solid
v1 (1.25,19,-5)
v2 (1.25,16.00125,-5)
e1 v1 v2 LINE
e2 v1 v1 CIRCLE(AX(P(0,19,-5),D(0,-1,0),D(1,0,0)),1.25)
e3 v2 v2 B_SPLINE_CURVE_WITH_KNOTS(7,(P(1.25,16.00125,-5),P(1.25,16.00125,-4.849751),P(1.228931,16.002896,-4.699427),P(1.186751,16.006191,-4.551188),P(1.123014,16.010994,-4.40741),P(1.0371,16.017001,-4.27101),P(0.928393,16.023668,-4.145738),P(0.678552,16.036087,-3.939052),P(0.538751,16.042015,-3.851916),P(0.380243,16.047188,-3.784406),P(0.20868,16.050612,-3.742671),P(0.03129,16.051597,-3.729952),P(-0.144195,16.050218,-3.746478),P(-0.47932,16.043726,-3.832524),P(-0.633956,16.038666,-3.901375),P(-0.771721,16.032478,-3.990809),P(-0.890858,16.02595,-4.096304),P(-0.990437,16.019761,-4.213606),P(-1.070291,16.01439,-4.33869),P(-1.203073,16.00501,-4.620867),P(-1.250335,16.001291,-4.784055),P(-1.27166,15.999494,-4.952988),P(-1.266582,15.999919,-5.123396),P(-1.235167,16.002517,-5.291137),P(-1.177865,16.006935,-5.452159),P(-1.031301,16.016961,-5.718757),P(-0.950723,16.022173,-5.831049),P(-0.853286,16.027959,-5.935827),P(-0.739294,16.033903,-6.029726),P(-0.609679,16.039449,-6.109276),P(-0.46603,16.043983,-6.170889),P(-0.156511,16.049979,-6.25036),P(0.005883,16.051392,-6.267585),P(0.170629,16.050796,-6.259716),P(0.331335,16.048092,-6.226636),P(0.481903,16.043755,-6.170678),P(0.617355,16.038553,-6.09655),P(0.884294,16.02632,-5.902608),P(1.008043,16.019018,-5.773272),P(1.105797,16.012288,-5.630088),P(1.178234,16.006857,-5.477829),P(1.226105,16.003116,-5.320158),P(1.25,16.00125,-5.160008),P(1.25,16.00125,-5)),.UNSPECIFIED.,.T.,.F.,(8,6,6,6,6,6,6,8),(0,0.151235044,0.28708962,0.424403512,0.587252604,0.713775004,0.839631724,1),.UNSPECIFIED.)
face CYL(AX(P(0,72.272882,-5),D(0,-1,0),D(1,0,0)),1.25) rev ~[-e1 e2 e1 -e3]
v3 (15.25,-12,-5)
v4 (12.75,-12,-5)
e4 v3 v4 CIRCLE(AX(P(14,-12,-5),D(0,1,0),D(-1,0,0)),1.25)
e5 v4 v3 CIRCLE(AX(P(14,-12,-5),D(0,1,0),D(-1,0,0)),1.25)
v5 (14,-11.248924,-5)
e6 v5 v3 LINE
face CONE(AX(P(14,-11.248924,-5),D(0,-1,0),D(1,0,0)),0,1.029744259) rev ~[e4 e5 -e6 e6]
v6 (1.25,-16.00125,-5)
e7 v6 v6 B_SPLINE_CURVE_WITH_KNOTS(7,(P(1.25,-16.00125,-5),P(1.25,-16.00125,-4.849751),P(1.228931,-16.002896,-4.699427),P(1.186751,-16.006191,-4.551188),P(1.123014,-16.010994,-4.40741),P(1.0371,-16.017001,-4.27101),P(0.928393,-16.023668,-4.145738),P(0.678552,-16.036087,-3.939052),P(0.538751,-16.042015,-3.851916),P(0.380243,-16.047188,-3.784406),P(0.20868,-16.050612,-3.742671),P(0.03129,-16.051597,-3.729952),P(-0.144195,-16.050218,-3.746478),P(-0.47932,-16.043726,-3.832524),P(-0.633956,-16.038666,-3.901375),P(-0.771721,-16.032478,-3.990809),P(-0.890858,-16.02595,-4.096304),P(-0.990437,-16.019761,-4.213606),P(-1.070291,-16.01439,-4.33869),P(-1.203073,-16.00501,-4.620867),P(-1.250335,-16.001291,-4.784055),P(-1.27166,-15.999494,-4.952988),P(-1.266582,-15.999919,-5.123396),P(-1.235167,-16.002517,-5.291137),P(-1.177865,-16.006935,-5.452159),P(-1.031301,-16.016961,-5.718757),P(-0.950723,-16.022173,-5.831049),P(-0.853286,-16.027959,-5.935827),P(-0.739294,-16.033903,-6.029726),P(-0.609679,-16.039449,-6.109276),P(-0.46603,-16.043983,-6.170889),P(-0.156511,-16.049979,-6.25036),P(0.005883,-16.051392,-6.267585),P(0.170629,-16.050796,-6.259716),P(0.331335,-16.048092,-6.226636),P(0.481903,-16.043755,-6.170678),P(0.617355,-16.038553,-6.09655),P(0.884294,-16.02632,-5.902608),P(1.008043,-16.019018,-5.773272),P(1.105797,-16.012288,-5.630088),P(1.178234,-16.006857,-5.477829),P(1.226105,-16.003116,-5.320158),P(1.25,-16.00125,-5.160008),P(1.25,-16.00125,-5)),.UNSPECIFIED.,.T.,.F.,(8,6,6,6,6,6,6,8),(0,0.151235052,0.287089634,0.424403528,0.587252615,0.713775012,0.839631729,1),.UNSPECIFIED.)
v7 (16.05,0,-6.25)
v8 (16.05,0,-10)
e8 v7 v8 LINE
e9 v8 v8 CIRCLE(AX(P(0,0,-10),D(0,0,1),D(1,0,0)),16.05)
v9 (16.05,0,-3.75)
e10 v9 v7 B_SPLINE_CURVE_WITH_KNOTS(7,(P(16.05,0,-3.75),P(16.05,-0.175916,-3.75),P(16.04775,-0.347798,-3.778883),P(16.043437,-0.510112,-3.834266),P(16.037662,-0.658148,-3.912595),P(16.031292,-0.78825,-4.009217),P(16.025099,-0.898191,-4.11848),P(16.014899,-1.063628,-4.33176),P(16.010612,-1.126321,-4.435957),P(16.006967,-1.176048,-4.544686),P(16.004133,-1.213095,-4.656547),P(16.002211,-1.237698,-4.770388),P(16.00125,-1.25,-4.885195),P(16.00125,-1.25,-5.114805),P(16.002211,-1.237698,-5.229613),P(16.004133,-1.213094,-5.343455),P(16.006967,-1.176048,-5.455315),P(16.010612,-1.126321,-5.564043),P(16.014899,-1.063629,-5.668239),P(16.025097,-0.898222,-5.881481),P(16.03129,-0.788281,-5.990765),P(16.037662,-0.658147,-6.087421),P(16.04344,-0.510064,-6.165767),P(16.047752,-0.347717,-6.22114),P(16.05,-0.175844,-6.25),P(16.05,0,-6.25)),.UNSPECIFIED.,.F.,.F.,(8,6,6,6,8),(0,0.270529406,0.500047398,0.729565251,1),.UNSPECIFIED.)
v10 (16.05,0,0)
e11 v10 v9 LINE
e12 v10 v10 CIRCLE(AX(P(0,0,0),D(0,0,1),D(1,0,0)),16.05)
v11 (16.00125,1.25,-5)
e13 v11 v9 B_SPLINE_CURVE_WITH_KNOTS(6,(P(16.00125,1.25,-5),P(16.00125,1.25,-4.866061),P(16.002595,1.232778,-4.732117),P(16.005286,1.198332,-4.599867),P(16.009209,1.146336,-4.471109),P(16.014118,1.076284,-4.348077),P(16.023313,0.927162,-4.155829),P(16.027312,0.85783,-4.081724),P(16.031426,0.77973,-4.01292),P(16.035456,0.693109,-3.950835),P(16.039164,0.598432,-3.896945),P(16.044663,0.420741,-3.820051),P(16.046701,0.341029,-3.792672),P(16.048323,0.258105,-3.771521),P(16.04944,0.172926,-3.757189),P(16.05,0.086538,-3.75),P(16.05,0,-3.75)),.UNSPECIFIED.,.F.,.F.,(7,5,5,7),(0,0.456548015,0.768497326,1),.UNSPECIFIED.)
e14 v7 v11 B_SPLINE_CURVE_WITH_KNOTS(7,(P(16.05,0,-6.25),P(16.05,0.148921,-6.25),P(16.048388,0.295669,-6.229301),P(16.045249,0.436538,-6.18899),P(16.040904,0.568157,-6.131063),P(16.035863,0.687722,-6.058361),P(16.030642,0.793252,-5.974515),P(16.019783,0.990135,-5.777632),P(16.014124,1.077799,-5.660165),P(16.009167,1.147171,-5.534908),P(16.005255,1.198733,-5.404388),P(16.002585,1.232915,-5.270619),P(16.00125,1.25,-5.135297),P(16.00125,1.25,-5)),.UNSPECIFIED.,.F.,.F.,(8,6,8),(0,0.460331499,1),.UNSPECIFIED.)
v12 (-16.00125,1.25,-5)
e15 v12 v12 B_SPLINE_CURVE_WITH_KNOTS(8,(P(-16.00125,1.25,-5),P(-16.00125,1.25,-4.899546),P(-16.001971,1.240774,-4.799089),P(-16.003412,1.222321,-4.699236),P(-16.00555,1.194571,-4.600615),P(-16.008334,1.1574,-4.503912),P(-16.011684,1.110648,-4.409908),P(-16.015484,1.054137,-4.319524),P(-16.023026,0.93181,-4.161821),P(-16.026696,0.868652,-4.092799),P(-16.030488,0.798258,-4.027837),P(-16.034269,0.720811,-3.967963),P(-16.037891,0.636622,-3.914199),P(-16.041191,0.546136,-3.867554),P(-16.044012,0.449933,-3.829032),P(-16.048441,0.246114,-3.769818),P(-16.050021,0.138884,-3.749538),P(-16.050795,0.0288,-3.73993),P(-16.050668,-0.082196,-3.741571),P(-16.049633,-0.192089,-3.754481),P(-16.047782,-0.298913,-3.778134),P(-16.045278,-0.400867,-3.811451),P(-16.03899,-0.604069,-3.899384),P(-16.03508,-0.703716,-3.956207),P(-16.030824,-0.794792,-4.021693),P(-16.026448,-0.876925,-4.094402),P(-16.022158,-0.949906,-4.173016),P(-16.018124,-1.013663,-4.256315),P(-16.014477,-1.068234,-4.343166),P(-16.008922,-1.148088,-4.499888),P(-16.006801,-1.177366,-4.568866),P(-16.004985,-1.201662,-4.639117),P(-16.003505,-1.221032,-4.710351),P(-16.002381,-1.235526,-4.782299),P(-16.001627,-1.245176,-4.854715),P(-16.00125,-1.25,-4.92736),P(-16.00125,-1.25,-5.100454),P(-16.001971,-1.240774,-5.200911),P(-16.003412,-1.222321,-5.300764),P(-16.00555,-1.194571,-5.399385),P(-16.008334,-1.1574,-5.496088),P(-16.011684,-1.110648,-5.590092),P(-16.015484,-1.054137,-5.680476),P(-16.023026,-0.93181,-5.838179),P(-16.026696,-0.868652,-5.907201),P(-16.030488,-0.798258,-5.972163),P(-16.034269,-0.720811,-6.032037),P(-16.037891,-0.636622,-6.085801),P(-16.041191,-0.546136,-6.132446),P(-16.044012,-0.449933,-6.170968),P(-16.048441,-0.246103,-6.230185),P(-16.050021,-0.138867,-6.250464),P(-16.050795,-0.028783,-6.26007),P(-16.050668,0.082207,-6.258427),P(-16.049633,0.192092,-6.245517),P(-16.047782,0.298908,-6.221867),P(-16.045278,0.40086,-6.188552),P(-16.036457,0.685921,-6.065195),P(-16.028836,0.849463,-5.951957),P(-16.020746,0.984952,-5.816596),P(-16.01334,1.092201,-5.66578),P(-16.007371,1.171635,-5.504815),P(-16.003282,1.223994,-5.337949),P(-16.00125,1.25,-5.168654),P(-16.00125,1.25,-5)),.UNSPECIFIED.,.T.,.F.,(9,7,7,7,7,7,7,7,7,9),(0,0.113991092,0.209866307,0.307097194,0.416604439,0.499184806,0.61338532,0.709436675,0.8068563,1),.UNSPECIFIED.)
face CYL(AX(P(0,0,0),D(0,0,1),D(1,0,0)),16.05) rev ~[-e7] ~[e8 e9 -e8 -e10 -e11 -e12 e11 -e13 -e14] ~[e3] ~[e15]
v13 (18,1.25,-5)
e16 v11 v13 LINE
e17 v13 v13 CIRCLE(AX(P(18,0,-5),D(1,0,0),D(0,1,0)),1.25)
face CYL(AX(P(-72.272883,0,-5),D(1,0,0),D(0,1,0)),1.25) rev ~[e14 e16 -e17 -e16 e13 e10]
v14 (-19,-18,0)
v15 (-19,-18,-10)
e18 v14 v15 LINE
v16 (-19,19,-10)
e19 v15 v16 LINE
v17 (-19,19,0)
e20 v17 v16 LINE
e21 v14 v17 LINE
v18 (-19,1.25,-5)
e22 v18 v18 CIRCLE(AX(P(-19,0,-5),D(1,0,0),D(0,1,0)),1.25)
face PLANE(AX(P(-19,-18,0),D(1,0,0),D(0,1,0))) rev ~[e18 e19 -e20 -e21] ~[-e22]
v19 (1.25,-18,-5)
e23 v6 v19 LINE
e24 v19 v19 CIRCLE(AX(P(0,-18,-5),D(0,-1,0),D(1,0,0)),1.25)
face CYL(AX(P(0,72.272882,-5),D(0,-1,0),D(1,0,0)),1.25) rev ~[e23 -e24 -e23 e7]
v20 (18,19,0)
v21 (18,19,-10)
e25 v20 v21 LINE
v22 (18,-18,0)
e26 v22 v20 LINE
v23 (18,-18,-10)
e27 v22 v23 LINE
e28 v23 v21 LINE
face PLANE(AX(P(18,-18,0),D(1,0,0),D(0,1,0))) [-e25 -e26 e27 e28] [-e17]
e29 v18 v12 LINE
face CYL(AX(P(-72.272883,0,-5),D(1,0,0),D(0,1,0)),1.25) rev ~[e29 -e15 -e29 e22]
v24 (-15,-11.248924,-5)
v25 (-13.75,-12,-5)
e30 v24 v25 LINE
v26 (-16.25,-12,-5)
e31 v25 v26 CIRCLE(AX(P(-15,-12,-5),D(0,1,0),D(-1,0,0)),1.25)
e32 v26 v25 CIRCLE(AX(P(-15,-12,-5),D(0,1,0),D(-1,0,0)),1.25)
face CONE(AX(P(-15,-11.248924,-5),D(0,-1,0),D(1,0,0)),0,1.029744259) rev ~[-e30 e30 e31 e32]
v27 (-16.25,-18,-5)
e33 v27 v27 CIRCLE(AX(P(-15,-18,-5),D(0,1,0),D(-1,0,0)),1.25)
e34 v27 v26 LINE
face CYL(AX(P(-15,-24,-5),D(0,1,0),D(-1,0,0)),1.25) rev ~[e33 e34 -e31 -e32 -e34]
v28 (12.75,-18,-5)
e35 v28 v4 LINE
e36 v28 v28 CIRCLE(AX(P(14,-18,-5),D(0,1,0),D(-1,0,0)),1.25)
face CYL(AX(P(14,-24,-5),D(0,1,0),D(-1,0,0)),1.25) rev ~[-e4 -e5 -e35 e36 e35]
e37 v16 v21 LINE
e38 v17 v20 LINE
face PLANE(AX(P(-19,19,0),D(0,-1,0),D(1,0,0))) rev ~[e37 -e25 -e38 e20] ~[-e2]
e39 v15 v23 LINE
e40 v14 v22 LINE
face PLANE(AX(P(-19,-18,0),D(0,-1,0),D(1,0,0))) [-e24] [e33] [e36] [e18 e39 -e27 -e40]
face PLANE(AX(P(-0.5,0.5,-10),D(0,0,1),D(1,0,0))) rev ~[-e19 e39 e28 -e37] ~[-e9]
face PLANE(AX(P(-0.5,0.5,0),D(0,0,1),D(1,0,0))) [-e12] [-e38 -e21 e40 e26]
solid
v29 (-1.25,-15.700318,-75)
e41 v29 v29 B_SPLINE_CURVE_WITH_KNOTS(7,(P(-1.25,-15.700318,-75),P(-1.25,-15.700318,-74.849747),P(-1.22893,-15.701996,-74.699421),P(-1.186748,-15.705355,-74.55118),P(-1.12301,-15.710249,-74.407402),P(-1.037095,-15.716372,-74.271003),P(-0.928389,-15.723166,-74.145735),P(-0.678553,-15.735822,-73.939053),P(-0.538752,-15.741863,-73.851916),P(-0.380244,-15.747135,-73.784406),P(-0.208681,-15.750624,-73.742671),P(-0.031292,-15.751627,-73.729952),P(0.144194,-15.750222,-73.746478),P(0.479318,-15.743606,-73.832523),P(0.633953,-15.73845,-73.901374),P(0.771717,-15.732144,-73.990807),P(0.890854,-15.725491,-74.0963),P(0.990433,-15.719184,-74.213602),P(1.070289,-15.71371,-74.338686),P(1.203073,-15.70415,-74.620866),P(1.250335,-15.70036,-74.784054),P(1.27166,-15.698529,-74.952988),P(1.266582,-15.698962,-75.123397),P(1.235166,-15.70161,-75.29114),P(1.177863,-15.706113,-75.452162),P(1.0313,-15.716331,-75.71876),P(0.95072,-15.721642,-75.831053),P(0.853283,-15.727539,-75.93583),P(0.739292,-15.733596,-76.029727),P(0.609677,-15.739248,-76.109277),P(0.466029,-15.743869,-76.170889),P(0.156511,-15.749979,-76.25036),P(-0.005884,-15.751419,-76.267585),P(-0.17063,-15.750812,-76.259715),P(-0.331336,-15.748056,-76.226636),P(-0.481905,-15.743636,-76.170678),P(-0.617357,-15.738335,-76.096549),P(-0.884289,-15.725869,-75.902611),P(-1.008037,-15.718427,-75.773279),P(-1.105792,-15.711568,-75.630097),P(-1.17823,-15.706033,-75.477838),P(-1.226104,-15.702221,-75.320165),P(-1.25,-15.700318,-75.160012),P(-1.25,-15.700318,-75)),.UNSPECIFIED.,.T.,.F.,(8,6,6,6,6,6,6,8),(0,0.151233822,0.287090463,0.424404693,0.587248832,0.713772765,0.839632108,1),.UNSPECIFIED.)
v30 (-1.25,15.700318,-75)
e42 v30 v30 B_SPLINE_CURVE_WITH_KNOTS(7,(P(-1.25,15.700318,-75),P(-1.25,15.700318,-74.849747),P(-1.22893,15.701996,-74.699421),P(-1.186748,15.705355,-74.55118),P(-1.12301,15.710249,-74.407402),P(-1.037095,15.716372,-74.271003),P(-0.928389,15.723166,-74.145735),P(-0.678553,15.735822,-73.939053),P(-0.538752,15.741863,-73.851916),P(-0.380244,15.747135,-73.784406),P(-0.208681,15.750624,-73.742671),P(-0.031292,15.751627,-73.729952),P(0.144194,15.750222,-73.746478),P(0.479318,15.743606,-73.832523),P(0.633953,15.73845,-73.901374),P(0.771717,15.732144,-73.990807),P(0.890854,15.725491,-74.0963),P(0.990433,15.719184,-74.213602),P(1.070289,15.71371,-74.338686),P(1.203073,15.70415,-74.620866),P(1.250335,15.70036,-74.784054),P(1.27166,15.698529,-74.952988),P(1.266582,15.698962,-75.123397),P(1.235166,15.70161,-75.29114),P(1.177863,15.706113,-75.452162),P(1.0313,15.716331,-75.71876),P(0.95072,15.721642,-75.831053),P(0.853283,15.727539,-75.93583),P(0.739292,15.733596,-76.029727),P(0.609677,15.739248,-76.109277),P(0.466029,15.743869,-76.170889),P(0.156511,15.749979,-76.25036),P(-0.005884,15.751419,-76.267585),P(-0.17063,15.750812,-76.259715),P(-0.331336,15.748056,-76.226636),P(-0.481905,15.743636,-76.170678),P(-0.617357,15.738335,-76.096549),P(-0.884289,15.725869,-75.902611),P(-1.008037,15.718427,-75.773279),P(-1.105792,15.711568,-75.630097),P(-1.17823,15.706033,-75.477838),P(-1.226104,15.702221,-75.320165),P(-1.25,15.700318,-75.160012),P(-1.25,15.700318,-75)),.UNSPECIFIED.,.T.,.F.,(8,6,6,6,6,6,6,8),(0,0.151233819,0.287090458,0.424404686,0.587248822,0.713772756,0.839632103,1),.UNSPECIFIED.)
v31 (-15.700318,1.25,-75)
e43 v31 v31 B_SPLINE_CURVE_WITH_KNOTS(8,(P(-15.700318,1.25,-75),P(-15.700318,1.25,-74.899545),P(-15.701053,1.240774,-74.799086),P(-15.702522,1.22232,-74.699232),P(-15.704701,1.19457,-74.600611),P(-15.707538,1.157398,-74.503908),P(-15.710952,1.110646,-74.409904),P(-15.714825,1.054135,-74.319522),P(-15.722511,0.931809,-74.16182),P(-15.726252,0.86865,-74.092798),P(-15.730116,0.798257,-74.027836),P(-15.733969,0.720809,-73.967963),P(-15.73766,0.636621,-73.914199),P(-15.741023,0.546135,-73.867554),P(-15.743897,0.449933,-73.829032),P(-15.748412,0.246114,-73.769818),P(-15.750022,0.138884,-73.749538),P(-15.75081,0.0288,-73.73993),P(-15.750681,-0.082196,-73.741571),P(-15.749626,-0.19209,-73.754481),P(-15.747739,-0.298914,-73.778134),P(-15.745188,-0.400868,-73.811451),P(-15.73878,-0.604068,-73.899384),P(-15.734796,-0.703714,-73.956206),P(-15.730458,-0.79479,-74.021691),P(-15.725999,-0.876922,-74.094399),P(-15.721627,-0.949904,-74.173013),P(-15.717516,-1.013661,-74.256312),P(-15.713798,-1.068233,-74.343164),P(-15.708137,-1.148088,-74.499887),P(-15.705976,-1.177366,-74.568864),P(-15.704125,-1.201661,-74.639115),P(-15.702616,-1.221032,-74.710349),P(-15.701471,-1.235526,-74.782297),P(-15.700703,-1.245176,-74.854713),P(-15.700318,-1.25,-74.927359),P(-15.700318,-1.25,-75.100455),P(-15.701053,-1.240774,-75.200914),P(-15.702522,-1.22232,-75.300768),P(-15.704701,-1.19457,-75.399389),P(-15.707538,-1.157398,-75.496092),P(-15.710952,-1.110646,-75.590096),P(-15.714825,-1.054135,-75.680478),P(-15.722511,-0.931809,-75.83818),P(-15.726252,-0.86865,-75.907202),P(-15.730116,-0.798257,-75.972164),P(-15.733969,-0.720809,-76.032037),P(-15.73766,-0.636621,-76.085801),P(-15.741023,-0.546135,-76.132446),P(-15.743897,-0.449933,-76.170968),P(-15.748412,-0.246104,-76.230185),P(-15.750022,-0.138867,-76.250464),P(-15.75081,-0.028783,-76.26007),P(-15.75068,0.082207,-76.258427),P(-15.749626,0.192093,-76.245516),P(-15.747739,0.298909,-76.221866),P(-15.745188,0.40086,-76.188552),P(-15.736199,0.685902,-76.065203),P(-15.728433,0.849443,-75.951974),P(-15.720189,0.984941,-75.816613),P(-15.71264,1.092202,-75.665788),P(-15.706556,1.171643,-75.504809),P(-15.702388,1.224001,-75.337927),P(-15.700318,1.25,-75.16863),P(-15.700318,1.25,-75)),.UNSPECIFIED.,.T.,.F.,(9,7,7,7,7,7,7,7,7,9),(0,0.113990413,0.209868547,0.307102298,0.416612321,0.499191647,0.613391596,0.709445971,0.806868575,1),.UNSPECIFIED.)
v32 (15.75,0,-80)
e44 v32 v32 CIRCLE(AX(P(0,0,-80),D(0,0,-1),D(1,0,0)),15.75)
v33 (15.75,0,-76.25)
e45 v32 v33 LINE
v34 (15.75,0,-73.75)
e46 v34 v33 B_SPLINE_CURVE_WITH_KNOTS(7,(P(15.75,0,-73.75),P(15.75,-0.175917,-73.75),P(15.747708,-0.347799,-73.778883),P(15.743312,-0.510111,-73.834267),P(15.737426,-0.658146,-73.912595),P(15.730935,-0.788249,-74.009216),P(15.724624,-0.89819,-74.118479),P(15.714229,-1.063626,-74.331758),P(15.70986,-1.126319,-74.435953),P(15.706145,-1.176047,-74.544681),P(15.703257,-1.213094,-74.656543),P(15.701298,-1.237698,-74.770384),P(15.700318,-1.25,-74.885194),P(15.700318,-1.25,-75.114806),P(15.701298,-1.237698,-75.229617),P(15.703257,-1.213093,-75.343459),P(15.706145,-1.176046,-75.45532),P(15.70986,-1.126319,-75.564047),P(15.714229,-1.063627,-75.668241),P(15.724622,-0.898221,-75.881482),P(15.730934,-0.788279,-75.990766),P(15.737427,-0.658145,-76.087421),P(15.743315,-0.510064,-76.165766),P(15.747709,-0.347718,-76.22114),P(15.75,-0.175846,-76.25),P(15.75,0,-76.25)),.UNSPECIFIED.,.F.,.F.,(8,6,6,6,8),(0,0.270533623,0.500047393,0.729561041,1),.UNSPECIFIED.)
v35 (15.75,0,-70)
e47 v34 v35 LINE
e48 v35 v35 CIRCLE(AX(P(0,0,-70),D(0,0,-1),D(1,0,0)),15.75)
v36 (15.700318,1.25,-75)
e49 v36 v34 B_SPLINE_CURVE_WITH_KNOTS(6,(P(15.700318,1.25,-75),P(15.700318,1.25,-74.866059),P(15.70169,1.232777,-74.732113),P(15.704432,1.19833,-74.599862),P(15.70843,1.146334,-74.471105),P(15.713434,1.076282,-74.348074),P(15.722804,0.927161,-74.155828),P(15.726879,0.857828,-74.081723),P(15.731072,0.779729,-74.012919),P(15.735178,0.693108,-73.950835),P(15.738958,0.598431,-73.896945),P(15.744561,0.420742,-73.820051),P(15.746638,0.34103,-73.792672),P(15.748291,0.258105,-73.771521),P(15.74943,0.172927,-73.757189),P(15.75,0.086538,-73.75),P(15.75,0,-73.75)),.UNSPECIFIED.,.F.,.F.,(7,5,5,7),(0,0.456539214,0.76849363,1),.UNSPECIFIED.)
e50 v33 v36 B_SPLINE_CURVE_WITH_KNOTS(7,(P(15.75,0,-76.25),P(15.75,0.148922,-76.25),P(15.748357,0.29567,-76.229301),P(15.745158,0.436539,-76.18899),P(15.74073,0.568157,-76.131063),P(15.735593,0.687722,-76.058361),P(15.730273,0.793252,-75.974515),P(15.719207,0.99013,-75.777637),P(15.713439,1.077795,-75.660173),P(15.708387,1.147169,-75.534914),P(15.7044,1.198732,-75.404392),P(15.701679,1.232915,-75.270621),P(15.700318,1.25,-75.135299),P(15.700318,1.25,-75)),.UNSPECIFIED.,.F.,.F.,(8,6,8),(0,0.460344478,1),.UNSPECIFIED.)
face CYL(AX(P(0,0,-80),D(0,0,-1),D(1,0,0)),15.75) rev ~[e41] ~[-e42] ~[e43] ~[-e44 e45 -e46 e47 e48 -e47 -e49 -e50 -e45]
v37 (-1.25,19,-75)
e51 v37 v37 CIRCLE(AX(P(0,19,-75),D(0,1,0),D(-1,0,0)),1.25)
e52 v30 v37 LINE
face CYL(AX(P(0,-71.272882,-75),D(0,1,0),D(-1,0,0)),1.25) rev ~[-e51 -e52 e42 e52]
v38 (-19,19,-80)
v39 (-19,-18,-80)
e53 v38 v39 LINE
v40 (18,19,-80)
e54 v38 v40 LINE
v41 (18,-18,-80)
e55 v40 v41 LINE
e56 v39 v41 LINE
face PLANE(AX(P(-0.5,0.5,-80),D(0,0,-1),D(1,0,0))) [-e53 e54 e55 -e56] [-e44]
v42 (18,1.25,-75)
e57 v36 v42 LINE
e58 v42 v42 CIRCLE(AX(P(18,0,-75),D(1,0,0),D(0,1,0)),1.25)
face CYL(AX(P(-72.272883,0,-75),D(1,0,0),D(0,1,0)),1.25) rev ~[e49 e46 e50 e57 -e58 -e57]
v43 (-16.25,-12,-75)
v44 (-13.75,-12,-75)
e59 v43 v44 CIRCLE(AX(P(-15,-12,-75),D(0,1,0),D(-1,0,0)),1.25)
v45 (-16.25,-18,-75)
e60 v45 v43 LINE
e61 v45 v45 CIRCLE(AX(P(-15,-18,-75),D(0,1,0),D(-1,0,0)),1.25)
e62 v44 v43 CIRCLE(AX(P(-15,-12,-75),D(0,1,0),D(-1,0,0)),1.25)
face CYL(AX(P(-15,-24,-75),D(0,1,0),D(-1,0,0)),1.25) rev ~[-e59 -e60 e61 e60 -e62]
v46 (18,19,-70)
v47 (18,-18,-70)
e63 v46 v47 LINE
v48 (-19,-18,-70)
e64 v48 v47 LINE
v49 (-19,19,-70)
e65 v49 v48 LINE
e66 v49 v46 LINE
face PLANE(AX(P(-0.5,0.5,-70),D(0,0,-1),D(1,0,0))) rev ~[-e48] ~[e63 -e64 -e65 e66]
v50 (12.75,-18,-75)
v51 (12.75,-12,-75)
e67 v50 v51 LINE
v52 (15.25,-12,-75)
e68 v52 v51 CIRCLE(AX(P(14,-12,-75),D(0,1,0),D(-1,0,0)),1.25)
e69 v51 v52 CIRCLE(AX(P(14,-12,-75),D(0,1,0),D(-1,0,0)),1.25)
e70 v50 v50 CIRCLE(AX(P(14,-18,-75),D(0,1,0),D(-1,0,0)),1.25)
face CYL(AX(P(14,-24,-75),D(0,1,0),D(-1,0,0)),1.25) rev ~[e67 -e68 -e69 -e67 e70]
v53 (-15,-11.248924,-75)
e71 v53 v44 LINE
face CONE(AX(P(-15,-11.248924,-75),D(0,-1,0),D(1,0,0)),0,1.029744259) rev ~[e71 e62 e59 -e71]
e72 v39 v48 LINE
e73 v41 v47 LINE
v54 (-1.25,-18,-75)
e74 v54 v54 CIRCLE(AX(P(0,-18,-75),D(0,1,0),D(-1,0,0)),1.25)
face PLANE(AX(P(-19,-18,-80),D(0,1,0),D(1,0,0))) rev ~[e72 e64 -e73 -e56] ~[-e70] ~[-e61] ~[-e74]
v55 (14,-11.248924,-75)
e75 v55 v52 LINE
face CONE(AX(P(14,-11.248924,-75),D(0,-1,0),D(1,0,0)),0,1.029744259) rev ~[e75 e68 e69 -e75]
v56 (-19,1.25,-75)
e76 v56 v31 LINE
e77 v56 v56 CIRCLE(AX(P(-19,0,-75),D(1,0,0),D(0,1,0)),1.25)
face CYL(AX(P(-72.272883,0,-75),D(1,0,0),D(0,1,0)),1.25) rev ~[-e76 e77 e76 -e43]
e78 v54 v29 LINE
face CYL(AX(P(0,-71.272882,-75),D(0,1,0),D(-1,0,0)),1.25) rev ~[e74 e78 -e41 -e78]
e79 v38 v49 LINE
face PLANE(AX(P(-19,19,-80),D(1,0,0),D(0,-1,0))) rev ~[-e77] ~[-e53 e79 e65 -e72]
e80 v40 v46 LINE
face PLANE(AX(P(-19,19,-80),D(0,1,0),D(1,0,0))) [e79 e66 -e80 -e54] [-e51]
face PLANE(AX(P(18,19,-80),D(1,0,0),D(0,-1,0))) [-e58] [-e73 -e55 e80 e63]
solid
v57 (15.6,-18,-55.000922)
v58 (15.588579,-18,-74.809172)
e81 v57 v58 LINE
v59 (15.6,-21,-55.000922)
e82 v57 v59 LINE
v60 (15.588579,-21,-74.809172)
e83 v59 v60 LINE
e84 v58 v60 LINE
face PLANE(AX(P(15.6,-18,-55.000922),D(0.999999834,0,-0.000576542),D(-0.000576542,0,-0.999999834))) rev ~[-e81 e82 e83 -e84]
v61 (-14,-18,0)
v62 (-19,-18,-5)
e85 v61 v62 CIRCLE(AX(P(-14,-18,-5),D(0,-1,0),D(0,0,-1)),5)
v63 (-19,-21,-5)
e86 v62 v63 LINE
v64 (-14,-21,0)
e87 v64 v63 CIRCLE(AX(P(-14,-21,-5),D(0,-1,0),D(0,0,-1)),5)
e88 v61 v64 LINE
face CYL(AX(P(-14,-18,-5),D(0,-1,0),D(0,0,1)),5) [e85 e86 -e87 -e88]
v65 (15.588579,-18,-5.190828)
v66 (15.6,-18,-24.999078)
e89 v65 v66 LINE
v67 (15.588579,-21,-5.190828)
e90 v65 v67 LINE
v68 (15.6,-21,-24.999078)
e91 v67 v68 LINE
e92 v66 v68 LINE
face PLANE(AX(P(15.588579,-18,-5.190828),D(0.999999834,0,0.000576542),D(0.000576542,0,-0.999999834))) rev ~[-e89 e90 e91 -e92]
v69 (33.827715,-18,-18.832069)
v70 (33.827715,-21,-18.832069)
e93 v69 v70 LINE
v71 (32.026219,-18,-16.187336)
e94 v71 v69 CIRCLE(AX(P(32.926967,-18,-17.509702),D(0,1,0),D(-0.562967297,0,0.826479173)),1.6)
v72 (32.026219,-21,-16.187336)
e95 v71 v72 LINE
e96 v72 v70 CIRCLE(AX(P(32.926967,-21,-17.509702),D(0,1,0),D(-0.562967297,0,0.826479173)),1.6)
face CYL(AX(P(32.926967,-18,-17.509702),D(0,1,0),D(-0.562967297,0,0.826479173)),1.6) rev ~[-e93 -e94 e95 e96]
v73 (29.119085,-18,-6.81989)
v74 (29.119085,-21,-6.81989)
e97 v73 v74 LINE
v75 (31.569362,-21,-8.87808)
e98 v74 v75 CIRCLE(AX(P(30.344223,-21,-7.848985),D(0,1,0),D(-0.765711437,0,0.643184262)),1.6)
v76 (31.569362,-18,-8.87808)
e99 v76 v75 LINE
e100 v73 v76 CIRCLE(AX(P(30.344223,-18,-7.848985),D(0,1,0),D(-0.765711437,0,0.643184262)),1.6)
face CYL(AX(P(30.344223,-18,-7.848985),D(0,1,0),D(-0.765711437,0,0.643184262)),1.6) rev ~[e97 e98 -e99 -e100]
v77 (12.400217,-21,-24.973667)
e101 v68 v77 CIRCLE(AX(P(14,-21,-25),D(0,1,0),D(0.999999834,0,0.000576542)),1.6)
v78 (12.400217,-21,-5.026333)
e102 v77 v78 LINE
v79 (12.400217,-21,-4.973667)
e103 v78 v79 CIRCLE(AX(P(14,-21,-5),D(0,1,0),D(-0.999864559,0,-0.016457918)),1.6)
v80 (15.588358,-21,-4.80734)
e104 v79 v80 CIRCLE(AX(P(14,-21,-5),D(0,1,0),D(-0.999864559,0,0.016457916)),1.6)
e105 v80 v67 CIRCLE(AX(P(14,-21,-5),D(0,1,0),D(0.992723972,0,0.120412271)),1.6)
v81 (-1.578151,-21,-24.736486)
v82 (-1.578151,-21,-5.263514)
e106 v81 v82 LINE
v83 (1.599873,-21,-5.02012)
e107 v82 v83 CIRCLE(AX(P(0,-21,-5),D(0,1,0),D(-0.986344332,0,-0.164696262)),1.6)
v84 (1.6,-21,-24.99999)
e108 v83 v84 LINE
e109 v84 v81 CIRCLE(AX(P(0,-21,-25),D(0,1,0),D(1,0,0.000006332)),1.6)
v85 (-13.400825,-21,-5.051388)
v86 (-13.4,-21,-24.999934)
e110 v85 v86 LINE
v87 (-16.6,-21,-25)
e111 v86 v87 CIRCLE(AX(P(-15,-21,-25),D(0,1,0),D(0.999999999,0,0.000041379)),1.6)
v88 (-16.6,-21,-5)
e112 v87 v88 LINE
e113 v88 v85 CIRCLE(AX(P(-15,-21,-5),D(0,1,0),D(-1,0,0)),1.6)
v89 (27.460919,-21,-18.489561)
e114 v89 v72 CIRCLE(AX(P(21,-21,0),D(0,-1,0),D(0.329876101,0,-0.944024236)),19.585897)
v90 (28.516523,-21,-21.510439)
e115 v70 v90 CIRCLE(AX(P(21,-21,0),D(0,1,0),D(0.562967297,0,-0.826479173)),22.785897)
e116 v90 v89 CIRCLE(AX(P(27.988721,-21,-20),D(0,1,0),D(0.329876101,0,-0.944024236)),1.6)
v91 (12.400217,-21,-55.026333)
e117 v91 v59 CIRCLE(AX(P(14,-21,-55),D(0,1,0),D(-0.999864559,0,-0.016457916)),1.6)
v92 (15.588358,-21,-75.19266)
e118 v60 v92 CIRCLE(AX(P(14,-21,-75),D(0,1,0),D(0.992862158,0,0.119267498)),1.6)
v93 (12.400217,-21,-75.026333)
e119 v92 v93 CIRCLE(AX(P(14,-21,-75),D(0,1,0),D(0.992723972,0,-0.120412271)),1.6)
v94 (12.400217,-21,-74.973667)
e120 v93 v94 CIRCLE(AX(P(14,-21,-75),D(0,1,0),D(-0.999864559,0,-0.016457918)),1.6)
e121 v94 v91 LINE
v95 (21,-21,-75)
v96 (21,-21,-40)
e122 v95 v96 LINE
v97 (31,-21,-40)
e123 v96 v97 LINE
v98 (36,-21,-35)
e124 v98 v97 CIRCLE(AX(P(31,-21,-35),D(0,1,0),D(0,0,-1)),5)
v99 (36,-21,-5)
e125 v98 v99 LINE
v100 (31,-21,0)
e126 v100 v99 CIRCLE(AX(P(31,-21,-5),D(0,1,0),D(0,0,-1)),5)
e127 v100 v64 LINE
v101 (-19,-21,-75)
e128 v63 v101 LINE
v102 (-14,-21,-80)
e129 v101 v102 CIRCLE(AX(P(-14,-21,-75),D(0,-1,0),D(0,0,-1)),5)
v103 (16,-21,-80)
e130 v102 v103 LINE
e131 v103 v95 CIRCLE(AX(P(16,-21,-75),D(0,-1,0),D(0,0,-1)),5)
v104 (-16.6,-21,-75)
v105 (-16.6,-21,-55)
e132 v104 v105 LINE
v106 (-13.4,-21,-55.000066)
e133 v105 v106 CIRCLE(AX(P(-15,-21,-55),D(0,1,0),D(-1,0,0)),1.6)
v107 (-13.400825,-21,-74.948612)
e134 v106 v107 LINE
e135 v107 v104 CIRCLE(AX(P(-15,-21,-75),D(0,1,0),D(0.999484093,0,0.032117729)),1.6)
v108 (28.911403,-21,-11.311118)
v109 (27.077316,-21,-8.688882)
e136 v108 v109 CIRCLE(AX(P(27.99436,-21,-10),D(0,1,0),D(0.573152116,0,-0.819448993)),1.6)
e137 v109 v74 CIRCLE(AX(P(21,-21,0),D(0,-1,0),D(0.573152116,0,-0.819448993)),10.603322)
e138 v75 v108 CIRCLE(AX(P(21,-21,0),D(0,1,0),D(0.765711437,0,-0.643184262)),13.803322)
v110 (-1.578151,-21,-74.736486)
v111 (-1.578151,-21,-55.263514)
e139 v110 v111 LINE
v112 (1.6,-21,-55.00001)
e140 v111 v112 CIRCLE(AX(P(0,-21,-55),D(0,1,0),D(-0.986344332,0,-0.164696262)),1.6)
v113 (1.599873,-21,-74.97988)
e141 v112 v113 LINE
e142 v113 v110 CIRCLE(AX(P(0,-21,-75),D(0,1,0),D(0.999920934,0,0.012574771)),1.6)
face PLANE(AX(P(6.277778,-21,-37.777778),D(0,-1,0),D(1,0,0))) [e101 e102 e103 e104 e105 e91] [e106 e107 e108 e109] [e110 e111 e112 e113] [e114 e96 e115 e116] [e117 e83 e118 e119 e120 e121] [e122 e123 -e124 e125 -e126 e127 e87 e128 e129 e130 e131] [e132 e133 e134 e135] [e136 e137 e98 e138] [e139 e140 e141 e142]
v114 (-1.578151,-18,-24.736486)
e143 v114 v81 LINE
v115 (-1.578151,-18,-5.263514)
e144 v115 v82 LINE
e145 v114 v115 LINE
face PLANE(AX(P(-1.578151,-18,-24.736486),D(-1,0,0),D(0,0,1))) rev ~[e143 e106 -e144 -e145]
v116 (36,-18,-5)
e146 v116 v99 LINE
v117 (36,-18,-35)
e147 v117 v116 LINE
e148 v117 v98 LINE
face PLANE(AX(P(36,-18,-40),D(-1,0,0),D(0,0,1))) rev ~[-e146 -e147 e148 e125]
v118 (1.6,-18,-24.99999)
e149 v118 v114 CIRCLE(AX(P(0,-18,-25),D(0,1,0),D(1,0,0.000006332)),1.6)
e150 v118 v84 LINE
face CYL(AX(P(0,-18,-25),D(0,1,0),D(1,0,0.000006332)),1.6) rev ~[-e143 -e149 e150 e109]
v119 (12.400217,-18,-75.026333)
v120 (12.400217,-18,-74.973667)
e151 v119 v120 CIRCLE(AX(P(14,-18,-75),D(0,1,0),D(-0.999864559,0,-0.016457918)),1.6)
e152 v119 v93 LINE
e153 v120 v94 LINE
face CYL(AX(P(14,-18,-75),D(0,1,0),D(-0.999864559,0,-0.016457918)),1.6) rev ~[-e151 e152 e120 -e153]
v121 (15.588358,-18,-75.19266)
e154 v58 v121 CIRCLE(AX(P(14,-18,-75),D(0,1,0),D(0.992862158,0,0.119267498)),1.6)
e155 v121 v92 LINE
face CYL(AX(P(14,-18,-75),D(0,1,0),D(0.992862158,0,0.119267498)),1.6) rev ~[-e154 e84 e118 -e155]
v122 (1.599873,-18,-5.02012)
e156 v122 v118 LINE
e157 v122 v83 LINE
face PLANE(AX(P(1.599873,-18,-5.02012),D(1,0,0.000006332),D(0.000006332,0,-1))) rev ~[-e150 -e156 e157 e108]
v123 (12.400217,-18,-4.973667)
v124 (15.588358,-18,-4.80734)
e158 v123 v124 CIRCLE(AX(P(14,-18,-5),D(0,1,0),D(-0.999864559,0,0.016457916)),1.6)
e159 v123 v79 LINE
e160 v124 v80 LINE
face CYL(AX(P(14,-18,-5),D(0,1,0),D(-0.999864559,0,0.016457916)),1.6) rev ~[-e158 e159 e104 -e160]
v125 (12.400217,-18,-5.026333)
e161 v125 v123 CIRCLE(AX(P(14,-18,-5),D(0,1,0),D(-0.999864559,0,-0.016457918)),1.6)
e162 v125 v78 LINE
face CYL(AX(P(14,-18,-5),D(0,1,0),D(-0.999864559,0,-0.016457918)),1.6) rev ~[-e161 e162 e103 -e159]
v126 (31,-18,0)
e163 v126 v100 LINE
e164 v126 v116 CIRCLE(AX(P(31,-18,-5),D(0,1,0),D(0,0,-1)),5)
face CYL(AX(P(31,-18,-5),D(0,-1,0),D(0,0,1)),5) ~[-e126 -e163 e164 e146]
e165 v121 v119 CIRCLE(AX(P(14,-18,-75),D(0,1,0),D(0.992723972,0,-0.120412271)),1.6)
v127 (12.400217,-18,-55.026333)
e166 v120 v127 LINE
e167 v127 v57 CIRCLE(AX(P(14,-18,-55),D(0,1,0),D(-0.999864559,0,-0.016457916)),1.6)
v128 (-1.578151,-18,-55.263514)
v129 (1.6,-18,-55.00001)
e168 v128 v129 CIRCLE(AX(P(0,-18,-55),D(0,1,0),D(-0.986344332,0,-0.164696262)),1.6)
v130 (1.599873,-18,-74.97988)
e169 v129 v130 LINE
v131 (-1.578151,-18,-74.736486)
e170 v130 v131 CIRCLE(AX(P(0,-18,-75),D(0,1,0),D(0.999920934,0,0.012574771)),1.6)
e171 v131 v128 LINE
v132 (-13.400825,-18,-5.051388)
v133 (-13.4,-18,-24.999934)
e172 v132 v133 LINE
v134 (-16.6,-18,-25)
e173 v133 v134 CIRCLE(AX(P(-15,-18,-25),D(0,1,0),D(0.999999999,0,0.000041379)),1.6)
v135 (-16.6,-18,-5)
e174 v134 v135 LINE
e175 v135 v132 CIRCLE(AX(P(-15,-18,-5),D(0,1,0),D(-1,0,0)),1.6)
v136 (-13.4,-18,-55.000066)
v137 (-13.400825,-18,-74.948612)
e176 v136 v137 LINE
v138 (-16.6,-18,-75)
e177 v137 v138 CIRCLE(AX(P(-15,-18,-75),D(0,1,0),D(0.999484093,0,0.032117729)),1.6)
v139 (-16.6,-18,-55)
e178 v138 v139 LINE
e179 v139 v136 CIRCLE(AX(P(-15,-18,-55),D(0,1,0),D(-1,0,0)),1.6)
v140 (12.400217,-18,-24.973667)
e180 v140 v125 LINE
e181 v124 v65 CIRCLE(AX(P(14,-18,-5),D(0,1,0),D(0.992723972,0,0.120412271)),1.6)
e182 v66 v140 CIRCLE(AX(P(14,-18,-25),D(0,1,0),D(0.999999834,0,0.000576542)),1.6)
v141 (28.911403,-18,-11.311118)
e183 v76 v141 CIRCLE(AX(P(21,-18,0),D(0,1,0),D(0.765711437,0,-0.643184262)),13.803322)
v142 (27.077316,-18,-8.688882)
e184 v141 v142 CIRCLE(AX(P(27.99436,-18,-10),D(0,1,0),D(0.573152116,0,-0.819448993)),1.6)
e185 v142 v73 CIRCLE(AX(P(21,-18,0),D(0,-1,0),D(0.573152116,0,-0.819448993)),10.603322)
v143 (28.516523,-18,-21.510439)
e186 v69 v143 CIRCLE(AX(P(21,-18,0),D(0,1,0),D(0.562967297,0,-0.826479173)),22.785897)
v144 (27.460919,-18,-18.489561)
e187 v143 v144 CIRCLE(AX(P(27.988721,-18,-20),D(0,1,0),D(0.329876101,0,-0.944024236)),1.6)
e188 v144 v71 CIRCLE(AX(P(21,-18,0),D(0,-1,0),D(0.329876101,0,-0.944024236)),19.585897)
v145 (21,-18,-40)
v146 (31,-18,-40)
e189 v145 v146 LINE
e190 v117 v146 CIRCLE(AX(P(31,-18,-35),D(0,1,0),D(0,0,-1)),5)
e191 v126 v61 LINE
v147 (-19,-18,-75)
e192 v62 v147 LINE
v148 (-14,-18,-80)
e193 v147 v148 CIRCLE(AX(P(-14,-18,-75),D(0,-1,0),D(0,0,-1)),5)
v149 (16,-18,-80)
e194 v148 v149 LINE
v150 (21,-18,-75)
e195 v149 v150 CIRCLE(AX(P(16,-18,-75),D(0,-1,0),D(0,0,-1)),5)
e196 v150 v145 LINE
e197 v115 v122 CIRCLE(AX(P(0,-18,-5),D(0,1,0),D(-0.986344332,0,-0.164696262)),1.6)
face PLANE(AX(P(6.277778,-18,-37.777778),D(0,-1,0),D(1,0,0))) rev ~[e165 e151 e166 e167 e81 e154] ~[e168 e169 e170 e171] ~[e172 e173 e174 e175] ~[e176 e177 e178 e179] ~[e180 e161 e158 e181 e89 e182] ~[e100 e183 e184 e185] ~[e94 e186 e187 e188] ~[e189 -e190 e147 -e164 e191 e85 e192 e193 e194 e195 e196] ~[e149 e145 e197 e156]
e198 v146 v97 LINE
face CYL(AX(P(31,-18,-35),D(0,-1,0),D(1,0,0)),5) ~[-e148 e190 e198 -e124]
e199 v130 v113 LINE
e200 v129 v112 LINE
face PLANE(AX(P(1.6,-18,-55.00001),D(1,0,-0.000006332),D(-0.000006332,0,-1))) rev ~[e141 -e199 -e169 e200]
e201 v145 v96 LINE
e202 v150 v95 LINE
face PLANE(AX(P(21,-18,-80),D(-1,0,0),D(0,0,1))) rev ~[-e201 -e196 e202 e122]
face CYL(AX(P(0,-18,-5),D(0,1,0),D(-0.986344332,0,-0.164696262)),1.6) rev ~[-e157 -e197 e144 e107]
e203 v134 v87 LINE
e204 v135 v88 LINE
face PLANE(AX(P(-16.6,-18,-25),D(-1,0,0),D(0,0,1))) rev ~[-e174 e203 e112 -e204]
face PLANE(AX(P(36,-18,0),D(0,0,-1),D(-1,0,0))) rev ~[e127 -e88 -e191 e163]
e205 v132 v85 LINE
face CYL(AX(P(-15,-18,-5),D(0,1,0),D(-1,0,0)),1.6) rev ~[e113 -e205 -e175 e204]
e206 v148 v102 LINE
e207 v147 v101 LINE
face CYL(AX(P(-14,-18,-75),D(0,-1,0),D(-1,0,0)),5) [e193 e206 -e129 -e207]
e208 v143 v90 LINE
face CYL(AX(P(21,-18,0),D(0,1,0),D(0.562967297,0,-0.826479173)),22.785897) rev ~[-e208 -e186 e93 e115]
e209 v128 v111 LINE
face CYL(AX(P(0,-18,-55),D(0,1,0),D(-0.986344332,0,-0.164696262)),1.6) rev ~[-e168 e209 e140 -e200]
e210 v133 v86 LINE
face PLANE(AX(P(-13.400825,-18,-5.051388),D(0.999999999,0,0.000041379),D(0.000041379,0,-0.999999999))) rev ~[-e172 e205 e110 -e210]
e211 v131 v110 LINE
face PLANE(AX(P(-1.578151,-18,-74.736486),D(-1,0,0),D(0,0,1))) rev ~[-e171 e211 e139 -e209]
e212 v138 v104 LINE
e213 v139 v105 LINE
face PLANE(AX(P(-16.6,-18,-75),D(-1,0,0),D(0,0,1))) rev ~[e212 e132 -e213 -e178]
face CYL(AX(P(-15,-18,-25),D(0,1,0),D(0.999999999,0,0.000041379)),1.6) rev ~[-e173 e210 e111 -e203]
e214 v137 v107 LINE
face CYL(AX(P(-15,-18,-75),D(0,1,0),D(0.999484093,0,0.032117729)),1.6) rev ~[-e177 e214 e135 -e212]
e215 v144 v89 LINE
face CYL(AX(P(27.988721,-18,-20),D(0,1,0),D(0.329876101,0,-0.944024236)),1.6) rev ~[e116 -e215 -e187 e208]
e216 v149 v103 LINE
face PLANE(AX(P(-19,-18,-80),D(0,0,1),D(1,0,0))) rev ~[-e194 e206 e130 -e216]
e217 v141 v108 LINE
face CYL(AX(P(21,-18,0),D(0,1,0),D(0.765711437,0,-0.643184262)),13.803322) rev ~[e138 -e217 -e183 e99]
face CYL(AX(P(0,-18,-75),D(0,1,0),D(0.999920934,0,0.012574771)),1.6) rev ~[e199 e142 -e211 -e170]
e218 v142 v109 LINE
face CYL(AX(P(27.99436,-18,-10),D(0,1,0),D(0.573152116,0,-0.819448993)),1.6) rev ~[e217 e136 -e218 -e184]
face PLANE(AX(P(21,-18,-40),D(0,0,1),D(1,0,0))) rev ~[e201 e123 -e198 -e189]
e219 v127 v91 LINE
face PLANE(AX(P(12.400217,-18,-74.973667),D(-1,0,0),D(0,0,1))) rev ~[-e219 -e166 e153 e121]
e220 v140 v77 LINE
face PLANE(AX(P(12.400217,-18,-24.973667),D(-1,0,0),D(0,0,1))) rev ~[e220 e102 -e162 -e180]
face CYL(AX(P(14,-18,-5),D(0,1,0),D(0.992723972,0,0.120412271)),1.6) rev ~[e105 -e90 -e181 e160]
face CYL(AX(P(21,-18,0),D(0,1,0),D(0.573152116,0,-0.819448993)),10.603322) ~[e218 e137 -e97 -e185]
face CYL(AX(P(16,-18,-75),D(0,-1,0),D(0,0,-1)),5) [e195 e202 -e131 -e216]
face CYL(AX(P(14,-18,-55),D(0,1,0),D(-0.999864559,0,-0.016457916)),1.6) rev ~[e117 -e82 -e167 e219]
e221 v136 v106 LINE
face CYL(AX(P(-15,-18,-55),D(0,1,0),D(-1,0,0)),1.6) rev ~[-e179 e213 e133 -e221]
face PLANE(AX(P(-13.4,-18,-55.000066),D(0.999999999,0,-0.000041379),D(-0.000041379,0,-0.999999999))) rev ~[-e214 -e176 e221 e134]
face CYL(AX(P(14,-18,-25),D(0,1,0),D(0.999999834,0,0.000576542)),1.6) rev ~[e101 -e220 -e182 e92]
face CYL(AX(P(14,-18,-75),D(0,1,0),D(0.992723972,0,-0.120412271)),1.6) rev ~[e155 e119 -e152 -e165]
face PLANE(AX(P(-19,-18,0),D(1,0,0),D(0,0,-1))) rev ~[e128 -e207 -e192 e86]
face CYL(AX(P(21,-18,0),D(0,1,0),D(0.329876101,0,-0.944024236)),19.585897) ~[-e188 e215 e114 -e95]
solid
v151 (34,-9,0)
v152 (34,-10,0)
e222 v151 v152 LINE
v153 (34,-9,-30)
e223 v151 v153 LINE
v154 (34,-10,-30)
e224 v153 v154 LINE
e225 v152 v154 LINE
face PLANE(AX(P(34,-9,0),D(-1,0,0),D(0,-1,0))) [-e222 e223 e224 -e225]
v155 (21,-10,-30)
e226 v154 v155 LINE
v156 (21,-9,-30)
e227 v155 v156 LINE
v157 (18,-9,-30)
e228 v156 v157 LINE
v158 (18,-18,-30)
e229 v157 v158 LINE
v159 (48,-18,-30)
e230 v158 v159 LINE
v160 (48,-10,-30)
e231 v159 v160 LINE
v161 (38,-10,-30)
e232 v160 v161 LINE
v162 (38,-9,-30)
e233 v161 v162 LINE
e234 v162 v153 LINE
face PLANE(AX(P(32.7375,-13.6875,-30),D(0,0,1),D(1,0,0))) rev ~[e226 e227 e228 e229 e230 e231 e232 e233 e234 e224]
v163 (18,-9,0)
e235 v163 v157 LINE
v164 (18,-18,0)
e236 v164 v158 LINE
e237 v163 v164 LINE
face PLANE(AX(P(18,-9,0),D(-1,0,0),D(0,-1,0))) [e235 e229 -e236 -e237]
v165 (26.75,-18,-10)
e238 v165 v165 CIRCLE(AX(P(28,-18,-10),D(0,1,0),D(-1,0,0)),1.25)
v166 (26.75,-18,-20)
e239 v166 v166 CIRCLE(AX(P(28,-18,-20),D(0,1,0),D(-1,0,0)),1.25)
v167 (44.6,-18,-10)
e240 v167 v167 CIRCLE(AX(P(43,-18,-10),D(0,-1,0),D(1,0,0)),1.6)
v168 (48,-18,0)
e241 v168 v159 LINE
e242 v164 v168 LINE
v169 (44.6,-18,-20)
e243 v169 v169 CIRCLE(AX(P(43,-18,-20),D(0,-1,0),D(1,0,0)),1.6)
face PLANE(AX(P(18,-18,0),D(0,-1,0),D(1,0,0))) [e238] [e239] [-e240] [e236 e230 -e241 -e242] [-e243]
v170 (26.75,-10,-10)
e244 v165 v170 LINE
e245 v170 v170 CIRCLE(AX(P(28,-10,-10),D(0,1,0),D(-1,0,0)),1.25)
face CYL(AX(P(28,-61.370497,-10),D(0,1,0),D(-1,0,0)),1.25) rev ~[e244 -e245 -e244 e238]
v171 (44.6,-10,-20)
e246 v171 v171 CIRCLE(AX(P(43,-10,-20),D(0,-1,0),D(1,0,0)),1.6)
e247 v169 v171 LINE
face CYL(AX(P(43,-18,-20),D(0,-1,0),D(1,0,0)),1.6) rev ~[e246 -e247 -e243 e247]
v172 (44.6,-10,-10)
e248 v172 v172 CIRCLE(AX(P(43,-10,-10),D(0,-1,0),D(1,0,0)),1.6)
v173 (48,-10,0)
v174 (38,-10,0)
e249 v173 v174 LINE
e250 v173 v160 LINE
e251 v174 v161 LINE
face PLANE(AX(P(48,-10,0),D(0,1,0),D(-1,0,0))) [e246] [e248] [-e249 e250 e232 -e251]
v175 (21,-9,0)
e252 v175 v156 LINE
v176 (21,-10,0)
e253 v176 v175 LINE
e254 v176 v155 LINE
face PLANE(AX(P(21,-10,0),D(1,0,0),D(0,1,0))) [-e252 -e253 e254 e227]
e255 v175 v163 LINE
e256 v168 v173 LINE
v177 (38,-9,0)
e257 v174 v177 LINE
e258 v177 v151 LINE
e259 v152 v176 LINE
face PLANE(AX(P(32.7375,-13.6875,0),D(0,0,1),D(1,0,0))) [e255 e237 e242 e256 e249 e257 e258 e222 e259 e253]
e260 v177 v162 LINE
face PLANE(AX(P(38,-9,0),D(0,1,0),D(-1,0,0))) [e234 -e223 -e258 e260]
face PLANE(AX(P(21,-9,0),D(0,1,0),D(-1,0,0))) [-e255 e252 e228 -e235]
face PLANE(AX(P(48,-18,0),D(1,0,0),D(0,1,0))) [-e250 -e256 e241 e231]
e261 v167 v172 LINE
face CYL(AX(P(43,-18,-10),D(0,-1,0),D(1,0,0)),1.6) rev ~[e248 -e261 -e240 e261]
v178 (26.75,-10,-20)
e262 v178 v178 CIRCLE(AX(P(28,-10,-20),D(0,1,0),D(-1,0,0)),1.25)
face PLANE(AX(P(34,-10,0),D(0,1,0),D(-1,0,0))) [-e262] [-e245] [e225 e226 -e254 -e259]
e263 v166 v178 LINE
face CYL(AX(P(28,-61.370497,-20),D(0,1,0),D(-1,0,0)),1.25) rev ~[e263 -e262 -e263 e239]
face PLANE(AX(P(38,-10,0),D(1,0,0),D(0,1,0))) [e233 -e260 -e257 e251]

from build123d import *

# Parameters (mm, degrees)
F1_DEPTH   = 30
F2_R       = 1.6
F3_DEPTH   = 25
F4_D       = 2.5
F5_W       = 37
F5_H       = 37
F5_R       = 16.05
F6_DEPTH   = 10
F9_D       = 2.5
F9_ON_F7_D = 2.5
F11_D      = 2.5
F11_DEPTH  = 6
F11_TIP    = 0.7510757738
F14_DEPTH  = 3
F16_W      = 37
F16_H      = 37
F16_R      = 15.75
F17_DEPTH  = 10
F19_D      = 2.5
F19_DEPTH  = 6
F19_TIP    = 0.7510757738
F20_D      = 2.5
F22_D      = 2.5
F23_R      = 5
F24_R      = 5
F25_R      = 5


with BuildPart() as f1:
    # F0 (on Top) → F1 (new body)
    with BuildSketch(Plane.XY):
        Polygon((34, -10), (21, -10), (21, -9), (18, -9), (18, -10), (18, -18), (48, -18), (48, -10), (38, -10), (38, -9), (34, -9), align=None)
    extrude(amount=-F1_DEPTH)

    # F2 (on face) → F3 (cut)
    with BuildSketch(Plane.XZ.offset(18)):
        with Locations((43, -10)):
            Circle(F2_R)
        with Locations((43, -20)):
            Circle(F2_R)
    extrude(amount=-F3_DEPTH, mode=Mode.SUBTRACT)

    # F4 (through all)
    with Locations(Plane.XZ.offset(18)):
        with Locations((28, -10), (28, -20)):
            Hole(F4_D / 2)


with BuildPart() as f6:
    # F5 (on Top) → F6 (new body)
    with BuildSketch(Plane.XY):
        with Locations((-0.5, 0.5)):
            Rectangle(F5_W, F5_H)
        Circle(F5_R, mode=Mode.SUBTRACT)
    extrude(amount=-F6_DEPTH)

    # F9 (through all)
    with Locations(Plane(origin=(0, 19, 0), x_dir=(-1, 0, 0), z_dir=(0, 1, 0))):
        with Locations((0, -5)):
            Hole(F9_D / 2)

    # F9 on F7 (through all)
    with Locations(Plane(origin=(-19, 0, 0), x_dir=(0, -1, 0), z_dir=(-1, 0, 0))):
        with Locations((0, -5)):
            Hole(F9_ON_F7_D / 2)

    # F11
    with Locations(Plane.XZ.offset(18)):
        with Locations((-15, -5), (14, -5)):
            Hole(F11_D / 2, depth=F11_DEPTH)
            with Locations((0, 0, -(F11_DEPTH + F11_TIP / 2))):  # 118° drill point
                Cone(0, F11_D / 2, F11_TIP, mode=Mode.SUBTRACT)


with BuildPart() as f14:
    # F13 (on offset) → F14 (new body)
    with BuildSketch(Plane.XZ.offset(18)):
        Polygon((36, 0), (-19, 0), (-19, -80), (21, -80), (21, -40), (36, -40), align=None)
        with BuildLine():
            ThreePointArc((-13.4008254517, -74.948611634), (-14.9743025024, -76.5997936238), (-16.6, -75))
            Line((-16.6, -75), (-16.6, -55))
            ThreePointArc((-16.6, -55), (-14.9999668968, -53.4000000003), (-13.4000000014, -55.0000662064))
            Line((-13.4000000014, -55.0000662064), (-13.4008254517, -74.948611634))
        make_face(mode=Mode.SUBTRACT)
        with BuildLine():
            Line((1.6, -55.0000101306), (1.5998734951, -74.979880366))
            ThreePointArc((1.5998734951, -74.979880366), (-0.1221809073, -76.5953281248), (-1.5781509312, -74.7364859809))
            Line((-1.5781509312, -74.7364859809), (-1.5781509312, -55.2635140191))
            ThreePointArc((-1.5781509312, -55.2635140191), (-0.1322040856, -53.4054712045), (1.6, -55.0000101306))
        make_face(mode=Mode.SUBTRACT)
        with BuildLine():
            ThreePointArc((15.5883583555, -75.1926596338), (13.9166405534, -76.5978270253), (12.4002167051, -75.0263326662))
            ThreePointArc((12.4002167051, -75.0263326662), (12.4, -75), (12.4002167051, -74.9736673338))
            Line((12.4002167051, -74.9736673338), (12.4002167051, -55.0263326662))
            ThreePointArc((12.4002167051, -55.0263326662), (13.9872944393, -53.4000504481), (15.5999997341, -55.0009224666))
            Line((15.5999997341, -55.0009224666), (15.5885794521, -74.8091720034))
            ThreePointArc((15.5885794521, -74.8091720034), (15.5999997341, -75.0009224666), (15.5883583555, -75.1926596338))
        make_face(mode=Mode.SUBTRACT)
        with BuildLine():
            ThreePointArc((-16.6, -5), (-14.9743025024, -3.4002063762), (-13.4008254517, -5.051388366))
            Line((-13.4008254517, -5.051388366), (-13.4000000014, -24.9999337936))
            ThreePointArc((-13.4000000014, -24.9999337936), (-14.9999668968, -26.5999999997), (-16.6, -25))
            Line((-16.6, -25), (-16.6, -5))
        make_face(mode=Mode.SUBTRACT)
        with BuildLine():
            ThreePointArc((-1.5781509312, -5.2635140191), (-0.1221809073, -3.4046718752), (1.5998734951, -5.020119634))
            Line((1.5998734951, -5.020119634), (1.6, -24.9999898694))
            ThreePointArc((1.6, -24.9999898694), (-0.1322040856, -26.5945287955), (-1.5781509312, -24.7364859809))
            Line((-1.5781509312, -24.7364859809), (-1.5781509312, -5.2635140191))
        make_face(mode=Mode.SUBTRACT)
        with BuildLine():
            ThreePointArc((15.5883583555, -4.8073403662), (15.5999997341, -4.9990775334), (15.5885794521, -5.1908279966))
            Line((15.5885794521, -5.1908279966), (15.5999997341, -24.9990775334))
            ThreePointArc((15.5999997341, -24.9990775334), (13.9872944393, -26.5999495519), (12.4002167051, -24.9736673338))
            Line((12.4002167051, -24.9736673338), (12.4002167051, -5.0263326662))
            ThreePointArc((12.4002167051, -5.0263326662), (12.4, -5), (12.4002167051, -4.9736673338))
            ThreePointArc((12.4002167051, -4.9736673338), (13.9166405534, -3.4021729747), (15.5883583555, -4.8073403662))
        make_face(mode=Mode.SUBTRACT)
        with BuildLine():
            ThreePointArc((28.5165227844, -21.5104387774), (26.4782822452, -20.5278017618), (27.4609192607, -18.4895612226))
            ThreePointArc((27.4609192607, -18.4895612226), (29.819017223, -17.4880612739), (32.0262193555, -16.1873357481))
            ThreePointArc((32.0262193555, -16.1873357481), (34.2493337066, -16.6089547493), (33.8277147054, -18.8320691003))
            ThreePointArc((33.8277147054, -18.8320691003), (31.2598935566, -20.3453108939), (28.5165227844, -21.5104387774))
        make_face(mode=Mode.SUBTRACT)
        with BuildLine():
            ThreePointArc((28.9114032605, -11.3111183889), (26.6832414864, -10.9170433851), (27.0773164902, -8.6888816111))
            ThreePointArc((27.0773164902, -8.6888816111), (28.1594508365, -7.821298044), (29.119084994, -6.8198898989))
            ThreePointArc((29.119084994, -6.8198898989), (31.3733181129, -6.6238464199), (31.569361592, -8.8780795388))
            ThreePointArc((31.569361592, -8.8780795388), (30.3201173219, -10.1817048604), (28.9114032605, -11.3111183889))
        make_face(mode=Mode.SUBTRACT)
    extrude(amount=F14_DEPTH)

    # F23
    f23_edges = [f14.edges().sort_by_distance(p)[0] for p in [
        (36, -19.5, 0),
    ]]
    fillet(f23_edges, radius=F23_R)

    # F24
    f24_edges = [f14.edges().sort_by_distance(p)[0] for p in [
        (-19, -19.5, 0),
        (-19, -19.5, -80),
    ]]
    fillet(f24_edges, radius=F24_R)

    # F25
    f25_edges = [f14.edges().sort_by_distance(p)[0] for p in [
        (36, -19.5, -40),
        (21, -19.5, -80),
    ]]
    fillet(f25_edges, radius=F25_R)


with BuildPart() as f17:
    # F16 (on offset) → F17 (new body)
    with BuildSketch(Plane(origin=(0, 0, -80), x_dir=(1, 0, 0), z_dir=(0, 0, -1))):
        with Locations((-0.5, -0.5)):
            Rectangle(F16_W, F16_H)
        Circle(F16_R, mode=Mode.SUBTRACT)
    extrude(amount=-F17_DEPTH)

    # F19
    with Locations(Plane.XZ.offset(18)):
        with Locations((-15, -75), (14, -75)):
            Hole(F19_D / 2, depth=F19_DEPTH)
            with Locations((0, 0, -(F19_DEPTH + F19_TIP / 2))):  # 118° drill point
                Cone(0, F19_D / 2, F19_TIP, mode=Mode.SUBTRACT)

    # F20 (through all)
    with Locations(Plane.XZ.offset(18)):
        with Locations((0, -75)):
            Hole(F20_D / 2)

    # F22 (through all)
    with Locations(Plane(origin=(-19, 0, 0), x_dir=(0, -1, 0), z_dir=(-1, 0, 0))):
        with Locations((0, -75)):
            Hole(F22_D / 2)


solid = Compound([f1.part, f6.part, f14.part, f17.part])
